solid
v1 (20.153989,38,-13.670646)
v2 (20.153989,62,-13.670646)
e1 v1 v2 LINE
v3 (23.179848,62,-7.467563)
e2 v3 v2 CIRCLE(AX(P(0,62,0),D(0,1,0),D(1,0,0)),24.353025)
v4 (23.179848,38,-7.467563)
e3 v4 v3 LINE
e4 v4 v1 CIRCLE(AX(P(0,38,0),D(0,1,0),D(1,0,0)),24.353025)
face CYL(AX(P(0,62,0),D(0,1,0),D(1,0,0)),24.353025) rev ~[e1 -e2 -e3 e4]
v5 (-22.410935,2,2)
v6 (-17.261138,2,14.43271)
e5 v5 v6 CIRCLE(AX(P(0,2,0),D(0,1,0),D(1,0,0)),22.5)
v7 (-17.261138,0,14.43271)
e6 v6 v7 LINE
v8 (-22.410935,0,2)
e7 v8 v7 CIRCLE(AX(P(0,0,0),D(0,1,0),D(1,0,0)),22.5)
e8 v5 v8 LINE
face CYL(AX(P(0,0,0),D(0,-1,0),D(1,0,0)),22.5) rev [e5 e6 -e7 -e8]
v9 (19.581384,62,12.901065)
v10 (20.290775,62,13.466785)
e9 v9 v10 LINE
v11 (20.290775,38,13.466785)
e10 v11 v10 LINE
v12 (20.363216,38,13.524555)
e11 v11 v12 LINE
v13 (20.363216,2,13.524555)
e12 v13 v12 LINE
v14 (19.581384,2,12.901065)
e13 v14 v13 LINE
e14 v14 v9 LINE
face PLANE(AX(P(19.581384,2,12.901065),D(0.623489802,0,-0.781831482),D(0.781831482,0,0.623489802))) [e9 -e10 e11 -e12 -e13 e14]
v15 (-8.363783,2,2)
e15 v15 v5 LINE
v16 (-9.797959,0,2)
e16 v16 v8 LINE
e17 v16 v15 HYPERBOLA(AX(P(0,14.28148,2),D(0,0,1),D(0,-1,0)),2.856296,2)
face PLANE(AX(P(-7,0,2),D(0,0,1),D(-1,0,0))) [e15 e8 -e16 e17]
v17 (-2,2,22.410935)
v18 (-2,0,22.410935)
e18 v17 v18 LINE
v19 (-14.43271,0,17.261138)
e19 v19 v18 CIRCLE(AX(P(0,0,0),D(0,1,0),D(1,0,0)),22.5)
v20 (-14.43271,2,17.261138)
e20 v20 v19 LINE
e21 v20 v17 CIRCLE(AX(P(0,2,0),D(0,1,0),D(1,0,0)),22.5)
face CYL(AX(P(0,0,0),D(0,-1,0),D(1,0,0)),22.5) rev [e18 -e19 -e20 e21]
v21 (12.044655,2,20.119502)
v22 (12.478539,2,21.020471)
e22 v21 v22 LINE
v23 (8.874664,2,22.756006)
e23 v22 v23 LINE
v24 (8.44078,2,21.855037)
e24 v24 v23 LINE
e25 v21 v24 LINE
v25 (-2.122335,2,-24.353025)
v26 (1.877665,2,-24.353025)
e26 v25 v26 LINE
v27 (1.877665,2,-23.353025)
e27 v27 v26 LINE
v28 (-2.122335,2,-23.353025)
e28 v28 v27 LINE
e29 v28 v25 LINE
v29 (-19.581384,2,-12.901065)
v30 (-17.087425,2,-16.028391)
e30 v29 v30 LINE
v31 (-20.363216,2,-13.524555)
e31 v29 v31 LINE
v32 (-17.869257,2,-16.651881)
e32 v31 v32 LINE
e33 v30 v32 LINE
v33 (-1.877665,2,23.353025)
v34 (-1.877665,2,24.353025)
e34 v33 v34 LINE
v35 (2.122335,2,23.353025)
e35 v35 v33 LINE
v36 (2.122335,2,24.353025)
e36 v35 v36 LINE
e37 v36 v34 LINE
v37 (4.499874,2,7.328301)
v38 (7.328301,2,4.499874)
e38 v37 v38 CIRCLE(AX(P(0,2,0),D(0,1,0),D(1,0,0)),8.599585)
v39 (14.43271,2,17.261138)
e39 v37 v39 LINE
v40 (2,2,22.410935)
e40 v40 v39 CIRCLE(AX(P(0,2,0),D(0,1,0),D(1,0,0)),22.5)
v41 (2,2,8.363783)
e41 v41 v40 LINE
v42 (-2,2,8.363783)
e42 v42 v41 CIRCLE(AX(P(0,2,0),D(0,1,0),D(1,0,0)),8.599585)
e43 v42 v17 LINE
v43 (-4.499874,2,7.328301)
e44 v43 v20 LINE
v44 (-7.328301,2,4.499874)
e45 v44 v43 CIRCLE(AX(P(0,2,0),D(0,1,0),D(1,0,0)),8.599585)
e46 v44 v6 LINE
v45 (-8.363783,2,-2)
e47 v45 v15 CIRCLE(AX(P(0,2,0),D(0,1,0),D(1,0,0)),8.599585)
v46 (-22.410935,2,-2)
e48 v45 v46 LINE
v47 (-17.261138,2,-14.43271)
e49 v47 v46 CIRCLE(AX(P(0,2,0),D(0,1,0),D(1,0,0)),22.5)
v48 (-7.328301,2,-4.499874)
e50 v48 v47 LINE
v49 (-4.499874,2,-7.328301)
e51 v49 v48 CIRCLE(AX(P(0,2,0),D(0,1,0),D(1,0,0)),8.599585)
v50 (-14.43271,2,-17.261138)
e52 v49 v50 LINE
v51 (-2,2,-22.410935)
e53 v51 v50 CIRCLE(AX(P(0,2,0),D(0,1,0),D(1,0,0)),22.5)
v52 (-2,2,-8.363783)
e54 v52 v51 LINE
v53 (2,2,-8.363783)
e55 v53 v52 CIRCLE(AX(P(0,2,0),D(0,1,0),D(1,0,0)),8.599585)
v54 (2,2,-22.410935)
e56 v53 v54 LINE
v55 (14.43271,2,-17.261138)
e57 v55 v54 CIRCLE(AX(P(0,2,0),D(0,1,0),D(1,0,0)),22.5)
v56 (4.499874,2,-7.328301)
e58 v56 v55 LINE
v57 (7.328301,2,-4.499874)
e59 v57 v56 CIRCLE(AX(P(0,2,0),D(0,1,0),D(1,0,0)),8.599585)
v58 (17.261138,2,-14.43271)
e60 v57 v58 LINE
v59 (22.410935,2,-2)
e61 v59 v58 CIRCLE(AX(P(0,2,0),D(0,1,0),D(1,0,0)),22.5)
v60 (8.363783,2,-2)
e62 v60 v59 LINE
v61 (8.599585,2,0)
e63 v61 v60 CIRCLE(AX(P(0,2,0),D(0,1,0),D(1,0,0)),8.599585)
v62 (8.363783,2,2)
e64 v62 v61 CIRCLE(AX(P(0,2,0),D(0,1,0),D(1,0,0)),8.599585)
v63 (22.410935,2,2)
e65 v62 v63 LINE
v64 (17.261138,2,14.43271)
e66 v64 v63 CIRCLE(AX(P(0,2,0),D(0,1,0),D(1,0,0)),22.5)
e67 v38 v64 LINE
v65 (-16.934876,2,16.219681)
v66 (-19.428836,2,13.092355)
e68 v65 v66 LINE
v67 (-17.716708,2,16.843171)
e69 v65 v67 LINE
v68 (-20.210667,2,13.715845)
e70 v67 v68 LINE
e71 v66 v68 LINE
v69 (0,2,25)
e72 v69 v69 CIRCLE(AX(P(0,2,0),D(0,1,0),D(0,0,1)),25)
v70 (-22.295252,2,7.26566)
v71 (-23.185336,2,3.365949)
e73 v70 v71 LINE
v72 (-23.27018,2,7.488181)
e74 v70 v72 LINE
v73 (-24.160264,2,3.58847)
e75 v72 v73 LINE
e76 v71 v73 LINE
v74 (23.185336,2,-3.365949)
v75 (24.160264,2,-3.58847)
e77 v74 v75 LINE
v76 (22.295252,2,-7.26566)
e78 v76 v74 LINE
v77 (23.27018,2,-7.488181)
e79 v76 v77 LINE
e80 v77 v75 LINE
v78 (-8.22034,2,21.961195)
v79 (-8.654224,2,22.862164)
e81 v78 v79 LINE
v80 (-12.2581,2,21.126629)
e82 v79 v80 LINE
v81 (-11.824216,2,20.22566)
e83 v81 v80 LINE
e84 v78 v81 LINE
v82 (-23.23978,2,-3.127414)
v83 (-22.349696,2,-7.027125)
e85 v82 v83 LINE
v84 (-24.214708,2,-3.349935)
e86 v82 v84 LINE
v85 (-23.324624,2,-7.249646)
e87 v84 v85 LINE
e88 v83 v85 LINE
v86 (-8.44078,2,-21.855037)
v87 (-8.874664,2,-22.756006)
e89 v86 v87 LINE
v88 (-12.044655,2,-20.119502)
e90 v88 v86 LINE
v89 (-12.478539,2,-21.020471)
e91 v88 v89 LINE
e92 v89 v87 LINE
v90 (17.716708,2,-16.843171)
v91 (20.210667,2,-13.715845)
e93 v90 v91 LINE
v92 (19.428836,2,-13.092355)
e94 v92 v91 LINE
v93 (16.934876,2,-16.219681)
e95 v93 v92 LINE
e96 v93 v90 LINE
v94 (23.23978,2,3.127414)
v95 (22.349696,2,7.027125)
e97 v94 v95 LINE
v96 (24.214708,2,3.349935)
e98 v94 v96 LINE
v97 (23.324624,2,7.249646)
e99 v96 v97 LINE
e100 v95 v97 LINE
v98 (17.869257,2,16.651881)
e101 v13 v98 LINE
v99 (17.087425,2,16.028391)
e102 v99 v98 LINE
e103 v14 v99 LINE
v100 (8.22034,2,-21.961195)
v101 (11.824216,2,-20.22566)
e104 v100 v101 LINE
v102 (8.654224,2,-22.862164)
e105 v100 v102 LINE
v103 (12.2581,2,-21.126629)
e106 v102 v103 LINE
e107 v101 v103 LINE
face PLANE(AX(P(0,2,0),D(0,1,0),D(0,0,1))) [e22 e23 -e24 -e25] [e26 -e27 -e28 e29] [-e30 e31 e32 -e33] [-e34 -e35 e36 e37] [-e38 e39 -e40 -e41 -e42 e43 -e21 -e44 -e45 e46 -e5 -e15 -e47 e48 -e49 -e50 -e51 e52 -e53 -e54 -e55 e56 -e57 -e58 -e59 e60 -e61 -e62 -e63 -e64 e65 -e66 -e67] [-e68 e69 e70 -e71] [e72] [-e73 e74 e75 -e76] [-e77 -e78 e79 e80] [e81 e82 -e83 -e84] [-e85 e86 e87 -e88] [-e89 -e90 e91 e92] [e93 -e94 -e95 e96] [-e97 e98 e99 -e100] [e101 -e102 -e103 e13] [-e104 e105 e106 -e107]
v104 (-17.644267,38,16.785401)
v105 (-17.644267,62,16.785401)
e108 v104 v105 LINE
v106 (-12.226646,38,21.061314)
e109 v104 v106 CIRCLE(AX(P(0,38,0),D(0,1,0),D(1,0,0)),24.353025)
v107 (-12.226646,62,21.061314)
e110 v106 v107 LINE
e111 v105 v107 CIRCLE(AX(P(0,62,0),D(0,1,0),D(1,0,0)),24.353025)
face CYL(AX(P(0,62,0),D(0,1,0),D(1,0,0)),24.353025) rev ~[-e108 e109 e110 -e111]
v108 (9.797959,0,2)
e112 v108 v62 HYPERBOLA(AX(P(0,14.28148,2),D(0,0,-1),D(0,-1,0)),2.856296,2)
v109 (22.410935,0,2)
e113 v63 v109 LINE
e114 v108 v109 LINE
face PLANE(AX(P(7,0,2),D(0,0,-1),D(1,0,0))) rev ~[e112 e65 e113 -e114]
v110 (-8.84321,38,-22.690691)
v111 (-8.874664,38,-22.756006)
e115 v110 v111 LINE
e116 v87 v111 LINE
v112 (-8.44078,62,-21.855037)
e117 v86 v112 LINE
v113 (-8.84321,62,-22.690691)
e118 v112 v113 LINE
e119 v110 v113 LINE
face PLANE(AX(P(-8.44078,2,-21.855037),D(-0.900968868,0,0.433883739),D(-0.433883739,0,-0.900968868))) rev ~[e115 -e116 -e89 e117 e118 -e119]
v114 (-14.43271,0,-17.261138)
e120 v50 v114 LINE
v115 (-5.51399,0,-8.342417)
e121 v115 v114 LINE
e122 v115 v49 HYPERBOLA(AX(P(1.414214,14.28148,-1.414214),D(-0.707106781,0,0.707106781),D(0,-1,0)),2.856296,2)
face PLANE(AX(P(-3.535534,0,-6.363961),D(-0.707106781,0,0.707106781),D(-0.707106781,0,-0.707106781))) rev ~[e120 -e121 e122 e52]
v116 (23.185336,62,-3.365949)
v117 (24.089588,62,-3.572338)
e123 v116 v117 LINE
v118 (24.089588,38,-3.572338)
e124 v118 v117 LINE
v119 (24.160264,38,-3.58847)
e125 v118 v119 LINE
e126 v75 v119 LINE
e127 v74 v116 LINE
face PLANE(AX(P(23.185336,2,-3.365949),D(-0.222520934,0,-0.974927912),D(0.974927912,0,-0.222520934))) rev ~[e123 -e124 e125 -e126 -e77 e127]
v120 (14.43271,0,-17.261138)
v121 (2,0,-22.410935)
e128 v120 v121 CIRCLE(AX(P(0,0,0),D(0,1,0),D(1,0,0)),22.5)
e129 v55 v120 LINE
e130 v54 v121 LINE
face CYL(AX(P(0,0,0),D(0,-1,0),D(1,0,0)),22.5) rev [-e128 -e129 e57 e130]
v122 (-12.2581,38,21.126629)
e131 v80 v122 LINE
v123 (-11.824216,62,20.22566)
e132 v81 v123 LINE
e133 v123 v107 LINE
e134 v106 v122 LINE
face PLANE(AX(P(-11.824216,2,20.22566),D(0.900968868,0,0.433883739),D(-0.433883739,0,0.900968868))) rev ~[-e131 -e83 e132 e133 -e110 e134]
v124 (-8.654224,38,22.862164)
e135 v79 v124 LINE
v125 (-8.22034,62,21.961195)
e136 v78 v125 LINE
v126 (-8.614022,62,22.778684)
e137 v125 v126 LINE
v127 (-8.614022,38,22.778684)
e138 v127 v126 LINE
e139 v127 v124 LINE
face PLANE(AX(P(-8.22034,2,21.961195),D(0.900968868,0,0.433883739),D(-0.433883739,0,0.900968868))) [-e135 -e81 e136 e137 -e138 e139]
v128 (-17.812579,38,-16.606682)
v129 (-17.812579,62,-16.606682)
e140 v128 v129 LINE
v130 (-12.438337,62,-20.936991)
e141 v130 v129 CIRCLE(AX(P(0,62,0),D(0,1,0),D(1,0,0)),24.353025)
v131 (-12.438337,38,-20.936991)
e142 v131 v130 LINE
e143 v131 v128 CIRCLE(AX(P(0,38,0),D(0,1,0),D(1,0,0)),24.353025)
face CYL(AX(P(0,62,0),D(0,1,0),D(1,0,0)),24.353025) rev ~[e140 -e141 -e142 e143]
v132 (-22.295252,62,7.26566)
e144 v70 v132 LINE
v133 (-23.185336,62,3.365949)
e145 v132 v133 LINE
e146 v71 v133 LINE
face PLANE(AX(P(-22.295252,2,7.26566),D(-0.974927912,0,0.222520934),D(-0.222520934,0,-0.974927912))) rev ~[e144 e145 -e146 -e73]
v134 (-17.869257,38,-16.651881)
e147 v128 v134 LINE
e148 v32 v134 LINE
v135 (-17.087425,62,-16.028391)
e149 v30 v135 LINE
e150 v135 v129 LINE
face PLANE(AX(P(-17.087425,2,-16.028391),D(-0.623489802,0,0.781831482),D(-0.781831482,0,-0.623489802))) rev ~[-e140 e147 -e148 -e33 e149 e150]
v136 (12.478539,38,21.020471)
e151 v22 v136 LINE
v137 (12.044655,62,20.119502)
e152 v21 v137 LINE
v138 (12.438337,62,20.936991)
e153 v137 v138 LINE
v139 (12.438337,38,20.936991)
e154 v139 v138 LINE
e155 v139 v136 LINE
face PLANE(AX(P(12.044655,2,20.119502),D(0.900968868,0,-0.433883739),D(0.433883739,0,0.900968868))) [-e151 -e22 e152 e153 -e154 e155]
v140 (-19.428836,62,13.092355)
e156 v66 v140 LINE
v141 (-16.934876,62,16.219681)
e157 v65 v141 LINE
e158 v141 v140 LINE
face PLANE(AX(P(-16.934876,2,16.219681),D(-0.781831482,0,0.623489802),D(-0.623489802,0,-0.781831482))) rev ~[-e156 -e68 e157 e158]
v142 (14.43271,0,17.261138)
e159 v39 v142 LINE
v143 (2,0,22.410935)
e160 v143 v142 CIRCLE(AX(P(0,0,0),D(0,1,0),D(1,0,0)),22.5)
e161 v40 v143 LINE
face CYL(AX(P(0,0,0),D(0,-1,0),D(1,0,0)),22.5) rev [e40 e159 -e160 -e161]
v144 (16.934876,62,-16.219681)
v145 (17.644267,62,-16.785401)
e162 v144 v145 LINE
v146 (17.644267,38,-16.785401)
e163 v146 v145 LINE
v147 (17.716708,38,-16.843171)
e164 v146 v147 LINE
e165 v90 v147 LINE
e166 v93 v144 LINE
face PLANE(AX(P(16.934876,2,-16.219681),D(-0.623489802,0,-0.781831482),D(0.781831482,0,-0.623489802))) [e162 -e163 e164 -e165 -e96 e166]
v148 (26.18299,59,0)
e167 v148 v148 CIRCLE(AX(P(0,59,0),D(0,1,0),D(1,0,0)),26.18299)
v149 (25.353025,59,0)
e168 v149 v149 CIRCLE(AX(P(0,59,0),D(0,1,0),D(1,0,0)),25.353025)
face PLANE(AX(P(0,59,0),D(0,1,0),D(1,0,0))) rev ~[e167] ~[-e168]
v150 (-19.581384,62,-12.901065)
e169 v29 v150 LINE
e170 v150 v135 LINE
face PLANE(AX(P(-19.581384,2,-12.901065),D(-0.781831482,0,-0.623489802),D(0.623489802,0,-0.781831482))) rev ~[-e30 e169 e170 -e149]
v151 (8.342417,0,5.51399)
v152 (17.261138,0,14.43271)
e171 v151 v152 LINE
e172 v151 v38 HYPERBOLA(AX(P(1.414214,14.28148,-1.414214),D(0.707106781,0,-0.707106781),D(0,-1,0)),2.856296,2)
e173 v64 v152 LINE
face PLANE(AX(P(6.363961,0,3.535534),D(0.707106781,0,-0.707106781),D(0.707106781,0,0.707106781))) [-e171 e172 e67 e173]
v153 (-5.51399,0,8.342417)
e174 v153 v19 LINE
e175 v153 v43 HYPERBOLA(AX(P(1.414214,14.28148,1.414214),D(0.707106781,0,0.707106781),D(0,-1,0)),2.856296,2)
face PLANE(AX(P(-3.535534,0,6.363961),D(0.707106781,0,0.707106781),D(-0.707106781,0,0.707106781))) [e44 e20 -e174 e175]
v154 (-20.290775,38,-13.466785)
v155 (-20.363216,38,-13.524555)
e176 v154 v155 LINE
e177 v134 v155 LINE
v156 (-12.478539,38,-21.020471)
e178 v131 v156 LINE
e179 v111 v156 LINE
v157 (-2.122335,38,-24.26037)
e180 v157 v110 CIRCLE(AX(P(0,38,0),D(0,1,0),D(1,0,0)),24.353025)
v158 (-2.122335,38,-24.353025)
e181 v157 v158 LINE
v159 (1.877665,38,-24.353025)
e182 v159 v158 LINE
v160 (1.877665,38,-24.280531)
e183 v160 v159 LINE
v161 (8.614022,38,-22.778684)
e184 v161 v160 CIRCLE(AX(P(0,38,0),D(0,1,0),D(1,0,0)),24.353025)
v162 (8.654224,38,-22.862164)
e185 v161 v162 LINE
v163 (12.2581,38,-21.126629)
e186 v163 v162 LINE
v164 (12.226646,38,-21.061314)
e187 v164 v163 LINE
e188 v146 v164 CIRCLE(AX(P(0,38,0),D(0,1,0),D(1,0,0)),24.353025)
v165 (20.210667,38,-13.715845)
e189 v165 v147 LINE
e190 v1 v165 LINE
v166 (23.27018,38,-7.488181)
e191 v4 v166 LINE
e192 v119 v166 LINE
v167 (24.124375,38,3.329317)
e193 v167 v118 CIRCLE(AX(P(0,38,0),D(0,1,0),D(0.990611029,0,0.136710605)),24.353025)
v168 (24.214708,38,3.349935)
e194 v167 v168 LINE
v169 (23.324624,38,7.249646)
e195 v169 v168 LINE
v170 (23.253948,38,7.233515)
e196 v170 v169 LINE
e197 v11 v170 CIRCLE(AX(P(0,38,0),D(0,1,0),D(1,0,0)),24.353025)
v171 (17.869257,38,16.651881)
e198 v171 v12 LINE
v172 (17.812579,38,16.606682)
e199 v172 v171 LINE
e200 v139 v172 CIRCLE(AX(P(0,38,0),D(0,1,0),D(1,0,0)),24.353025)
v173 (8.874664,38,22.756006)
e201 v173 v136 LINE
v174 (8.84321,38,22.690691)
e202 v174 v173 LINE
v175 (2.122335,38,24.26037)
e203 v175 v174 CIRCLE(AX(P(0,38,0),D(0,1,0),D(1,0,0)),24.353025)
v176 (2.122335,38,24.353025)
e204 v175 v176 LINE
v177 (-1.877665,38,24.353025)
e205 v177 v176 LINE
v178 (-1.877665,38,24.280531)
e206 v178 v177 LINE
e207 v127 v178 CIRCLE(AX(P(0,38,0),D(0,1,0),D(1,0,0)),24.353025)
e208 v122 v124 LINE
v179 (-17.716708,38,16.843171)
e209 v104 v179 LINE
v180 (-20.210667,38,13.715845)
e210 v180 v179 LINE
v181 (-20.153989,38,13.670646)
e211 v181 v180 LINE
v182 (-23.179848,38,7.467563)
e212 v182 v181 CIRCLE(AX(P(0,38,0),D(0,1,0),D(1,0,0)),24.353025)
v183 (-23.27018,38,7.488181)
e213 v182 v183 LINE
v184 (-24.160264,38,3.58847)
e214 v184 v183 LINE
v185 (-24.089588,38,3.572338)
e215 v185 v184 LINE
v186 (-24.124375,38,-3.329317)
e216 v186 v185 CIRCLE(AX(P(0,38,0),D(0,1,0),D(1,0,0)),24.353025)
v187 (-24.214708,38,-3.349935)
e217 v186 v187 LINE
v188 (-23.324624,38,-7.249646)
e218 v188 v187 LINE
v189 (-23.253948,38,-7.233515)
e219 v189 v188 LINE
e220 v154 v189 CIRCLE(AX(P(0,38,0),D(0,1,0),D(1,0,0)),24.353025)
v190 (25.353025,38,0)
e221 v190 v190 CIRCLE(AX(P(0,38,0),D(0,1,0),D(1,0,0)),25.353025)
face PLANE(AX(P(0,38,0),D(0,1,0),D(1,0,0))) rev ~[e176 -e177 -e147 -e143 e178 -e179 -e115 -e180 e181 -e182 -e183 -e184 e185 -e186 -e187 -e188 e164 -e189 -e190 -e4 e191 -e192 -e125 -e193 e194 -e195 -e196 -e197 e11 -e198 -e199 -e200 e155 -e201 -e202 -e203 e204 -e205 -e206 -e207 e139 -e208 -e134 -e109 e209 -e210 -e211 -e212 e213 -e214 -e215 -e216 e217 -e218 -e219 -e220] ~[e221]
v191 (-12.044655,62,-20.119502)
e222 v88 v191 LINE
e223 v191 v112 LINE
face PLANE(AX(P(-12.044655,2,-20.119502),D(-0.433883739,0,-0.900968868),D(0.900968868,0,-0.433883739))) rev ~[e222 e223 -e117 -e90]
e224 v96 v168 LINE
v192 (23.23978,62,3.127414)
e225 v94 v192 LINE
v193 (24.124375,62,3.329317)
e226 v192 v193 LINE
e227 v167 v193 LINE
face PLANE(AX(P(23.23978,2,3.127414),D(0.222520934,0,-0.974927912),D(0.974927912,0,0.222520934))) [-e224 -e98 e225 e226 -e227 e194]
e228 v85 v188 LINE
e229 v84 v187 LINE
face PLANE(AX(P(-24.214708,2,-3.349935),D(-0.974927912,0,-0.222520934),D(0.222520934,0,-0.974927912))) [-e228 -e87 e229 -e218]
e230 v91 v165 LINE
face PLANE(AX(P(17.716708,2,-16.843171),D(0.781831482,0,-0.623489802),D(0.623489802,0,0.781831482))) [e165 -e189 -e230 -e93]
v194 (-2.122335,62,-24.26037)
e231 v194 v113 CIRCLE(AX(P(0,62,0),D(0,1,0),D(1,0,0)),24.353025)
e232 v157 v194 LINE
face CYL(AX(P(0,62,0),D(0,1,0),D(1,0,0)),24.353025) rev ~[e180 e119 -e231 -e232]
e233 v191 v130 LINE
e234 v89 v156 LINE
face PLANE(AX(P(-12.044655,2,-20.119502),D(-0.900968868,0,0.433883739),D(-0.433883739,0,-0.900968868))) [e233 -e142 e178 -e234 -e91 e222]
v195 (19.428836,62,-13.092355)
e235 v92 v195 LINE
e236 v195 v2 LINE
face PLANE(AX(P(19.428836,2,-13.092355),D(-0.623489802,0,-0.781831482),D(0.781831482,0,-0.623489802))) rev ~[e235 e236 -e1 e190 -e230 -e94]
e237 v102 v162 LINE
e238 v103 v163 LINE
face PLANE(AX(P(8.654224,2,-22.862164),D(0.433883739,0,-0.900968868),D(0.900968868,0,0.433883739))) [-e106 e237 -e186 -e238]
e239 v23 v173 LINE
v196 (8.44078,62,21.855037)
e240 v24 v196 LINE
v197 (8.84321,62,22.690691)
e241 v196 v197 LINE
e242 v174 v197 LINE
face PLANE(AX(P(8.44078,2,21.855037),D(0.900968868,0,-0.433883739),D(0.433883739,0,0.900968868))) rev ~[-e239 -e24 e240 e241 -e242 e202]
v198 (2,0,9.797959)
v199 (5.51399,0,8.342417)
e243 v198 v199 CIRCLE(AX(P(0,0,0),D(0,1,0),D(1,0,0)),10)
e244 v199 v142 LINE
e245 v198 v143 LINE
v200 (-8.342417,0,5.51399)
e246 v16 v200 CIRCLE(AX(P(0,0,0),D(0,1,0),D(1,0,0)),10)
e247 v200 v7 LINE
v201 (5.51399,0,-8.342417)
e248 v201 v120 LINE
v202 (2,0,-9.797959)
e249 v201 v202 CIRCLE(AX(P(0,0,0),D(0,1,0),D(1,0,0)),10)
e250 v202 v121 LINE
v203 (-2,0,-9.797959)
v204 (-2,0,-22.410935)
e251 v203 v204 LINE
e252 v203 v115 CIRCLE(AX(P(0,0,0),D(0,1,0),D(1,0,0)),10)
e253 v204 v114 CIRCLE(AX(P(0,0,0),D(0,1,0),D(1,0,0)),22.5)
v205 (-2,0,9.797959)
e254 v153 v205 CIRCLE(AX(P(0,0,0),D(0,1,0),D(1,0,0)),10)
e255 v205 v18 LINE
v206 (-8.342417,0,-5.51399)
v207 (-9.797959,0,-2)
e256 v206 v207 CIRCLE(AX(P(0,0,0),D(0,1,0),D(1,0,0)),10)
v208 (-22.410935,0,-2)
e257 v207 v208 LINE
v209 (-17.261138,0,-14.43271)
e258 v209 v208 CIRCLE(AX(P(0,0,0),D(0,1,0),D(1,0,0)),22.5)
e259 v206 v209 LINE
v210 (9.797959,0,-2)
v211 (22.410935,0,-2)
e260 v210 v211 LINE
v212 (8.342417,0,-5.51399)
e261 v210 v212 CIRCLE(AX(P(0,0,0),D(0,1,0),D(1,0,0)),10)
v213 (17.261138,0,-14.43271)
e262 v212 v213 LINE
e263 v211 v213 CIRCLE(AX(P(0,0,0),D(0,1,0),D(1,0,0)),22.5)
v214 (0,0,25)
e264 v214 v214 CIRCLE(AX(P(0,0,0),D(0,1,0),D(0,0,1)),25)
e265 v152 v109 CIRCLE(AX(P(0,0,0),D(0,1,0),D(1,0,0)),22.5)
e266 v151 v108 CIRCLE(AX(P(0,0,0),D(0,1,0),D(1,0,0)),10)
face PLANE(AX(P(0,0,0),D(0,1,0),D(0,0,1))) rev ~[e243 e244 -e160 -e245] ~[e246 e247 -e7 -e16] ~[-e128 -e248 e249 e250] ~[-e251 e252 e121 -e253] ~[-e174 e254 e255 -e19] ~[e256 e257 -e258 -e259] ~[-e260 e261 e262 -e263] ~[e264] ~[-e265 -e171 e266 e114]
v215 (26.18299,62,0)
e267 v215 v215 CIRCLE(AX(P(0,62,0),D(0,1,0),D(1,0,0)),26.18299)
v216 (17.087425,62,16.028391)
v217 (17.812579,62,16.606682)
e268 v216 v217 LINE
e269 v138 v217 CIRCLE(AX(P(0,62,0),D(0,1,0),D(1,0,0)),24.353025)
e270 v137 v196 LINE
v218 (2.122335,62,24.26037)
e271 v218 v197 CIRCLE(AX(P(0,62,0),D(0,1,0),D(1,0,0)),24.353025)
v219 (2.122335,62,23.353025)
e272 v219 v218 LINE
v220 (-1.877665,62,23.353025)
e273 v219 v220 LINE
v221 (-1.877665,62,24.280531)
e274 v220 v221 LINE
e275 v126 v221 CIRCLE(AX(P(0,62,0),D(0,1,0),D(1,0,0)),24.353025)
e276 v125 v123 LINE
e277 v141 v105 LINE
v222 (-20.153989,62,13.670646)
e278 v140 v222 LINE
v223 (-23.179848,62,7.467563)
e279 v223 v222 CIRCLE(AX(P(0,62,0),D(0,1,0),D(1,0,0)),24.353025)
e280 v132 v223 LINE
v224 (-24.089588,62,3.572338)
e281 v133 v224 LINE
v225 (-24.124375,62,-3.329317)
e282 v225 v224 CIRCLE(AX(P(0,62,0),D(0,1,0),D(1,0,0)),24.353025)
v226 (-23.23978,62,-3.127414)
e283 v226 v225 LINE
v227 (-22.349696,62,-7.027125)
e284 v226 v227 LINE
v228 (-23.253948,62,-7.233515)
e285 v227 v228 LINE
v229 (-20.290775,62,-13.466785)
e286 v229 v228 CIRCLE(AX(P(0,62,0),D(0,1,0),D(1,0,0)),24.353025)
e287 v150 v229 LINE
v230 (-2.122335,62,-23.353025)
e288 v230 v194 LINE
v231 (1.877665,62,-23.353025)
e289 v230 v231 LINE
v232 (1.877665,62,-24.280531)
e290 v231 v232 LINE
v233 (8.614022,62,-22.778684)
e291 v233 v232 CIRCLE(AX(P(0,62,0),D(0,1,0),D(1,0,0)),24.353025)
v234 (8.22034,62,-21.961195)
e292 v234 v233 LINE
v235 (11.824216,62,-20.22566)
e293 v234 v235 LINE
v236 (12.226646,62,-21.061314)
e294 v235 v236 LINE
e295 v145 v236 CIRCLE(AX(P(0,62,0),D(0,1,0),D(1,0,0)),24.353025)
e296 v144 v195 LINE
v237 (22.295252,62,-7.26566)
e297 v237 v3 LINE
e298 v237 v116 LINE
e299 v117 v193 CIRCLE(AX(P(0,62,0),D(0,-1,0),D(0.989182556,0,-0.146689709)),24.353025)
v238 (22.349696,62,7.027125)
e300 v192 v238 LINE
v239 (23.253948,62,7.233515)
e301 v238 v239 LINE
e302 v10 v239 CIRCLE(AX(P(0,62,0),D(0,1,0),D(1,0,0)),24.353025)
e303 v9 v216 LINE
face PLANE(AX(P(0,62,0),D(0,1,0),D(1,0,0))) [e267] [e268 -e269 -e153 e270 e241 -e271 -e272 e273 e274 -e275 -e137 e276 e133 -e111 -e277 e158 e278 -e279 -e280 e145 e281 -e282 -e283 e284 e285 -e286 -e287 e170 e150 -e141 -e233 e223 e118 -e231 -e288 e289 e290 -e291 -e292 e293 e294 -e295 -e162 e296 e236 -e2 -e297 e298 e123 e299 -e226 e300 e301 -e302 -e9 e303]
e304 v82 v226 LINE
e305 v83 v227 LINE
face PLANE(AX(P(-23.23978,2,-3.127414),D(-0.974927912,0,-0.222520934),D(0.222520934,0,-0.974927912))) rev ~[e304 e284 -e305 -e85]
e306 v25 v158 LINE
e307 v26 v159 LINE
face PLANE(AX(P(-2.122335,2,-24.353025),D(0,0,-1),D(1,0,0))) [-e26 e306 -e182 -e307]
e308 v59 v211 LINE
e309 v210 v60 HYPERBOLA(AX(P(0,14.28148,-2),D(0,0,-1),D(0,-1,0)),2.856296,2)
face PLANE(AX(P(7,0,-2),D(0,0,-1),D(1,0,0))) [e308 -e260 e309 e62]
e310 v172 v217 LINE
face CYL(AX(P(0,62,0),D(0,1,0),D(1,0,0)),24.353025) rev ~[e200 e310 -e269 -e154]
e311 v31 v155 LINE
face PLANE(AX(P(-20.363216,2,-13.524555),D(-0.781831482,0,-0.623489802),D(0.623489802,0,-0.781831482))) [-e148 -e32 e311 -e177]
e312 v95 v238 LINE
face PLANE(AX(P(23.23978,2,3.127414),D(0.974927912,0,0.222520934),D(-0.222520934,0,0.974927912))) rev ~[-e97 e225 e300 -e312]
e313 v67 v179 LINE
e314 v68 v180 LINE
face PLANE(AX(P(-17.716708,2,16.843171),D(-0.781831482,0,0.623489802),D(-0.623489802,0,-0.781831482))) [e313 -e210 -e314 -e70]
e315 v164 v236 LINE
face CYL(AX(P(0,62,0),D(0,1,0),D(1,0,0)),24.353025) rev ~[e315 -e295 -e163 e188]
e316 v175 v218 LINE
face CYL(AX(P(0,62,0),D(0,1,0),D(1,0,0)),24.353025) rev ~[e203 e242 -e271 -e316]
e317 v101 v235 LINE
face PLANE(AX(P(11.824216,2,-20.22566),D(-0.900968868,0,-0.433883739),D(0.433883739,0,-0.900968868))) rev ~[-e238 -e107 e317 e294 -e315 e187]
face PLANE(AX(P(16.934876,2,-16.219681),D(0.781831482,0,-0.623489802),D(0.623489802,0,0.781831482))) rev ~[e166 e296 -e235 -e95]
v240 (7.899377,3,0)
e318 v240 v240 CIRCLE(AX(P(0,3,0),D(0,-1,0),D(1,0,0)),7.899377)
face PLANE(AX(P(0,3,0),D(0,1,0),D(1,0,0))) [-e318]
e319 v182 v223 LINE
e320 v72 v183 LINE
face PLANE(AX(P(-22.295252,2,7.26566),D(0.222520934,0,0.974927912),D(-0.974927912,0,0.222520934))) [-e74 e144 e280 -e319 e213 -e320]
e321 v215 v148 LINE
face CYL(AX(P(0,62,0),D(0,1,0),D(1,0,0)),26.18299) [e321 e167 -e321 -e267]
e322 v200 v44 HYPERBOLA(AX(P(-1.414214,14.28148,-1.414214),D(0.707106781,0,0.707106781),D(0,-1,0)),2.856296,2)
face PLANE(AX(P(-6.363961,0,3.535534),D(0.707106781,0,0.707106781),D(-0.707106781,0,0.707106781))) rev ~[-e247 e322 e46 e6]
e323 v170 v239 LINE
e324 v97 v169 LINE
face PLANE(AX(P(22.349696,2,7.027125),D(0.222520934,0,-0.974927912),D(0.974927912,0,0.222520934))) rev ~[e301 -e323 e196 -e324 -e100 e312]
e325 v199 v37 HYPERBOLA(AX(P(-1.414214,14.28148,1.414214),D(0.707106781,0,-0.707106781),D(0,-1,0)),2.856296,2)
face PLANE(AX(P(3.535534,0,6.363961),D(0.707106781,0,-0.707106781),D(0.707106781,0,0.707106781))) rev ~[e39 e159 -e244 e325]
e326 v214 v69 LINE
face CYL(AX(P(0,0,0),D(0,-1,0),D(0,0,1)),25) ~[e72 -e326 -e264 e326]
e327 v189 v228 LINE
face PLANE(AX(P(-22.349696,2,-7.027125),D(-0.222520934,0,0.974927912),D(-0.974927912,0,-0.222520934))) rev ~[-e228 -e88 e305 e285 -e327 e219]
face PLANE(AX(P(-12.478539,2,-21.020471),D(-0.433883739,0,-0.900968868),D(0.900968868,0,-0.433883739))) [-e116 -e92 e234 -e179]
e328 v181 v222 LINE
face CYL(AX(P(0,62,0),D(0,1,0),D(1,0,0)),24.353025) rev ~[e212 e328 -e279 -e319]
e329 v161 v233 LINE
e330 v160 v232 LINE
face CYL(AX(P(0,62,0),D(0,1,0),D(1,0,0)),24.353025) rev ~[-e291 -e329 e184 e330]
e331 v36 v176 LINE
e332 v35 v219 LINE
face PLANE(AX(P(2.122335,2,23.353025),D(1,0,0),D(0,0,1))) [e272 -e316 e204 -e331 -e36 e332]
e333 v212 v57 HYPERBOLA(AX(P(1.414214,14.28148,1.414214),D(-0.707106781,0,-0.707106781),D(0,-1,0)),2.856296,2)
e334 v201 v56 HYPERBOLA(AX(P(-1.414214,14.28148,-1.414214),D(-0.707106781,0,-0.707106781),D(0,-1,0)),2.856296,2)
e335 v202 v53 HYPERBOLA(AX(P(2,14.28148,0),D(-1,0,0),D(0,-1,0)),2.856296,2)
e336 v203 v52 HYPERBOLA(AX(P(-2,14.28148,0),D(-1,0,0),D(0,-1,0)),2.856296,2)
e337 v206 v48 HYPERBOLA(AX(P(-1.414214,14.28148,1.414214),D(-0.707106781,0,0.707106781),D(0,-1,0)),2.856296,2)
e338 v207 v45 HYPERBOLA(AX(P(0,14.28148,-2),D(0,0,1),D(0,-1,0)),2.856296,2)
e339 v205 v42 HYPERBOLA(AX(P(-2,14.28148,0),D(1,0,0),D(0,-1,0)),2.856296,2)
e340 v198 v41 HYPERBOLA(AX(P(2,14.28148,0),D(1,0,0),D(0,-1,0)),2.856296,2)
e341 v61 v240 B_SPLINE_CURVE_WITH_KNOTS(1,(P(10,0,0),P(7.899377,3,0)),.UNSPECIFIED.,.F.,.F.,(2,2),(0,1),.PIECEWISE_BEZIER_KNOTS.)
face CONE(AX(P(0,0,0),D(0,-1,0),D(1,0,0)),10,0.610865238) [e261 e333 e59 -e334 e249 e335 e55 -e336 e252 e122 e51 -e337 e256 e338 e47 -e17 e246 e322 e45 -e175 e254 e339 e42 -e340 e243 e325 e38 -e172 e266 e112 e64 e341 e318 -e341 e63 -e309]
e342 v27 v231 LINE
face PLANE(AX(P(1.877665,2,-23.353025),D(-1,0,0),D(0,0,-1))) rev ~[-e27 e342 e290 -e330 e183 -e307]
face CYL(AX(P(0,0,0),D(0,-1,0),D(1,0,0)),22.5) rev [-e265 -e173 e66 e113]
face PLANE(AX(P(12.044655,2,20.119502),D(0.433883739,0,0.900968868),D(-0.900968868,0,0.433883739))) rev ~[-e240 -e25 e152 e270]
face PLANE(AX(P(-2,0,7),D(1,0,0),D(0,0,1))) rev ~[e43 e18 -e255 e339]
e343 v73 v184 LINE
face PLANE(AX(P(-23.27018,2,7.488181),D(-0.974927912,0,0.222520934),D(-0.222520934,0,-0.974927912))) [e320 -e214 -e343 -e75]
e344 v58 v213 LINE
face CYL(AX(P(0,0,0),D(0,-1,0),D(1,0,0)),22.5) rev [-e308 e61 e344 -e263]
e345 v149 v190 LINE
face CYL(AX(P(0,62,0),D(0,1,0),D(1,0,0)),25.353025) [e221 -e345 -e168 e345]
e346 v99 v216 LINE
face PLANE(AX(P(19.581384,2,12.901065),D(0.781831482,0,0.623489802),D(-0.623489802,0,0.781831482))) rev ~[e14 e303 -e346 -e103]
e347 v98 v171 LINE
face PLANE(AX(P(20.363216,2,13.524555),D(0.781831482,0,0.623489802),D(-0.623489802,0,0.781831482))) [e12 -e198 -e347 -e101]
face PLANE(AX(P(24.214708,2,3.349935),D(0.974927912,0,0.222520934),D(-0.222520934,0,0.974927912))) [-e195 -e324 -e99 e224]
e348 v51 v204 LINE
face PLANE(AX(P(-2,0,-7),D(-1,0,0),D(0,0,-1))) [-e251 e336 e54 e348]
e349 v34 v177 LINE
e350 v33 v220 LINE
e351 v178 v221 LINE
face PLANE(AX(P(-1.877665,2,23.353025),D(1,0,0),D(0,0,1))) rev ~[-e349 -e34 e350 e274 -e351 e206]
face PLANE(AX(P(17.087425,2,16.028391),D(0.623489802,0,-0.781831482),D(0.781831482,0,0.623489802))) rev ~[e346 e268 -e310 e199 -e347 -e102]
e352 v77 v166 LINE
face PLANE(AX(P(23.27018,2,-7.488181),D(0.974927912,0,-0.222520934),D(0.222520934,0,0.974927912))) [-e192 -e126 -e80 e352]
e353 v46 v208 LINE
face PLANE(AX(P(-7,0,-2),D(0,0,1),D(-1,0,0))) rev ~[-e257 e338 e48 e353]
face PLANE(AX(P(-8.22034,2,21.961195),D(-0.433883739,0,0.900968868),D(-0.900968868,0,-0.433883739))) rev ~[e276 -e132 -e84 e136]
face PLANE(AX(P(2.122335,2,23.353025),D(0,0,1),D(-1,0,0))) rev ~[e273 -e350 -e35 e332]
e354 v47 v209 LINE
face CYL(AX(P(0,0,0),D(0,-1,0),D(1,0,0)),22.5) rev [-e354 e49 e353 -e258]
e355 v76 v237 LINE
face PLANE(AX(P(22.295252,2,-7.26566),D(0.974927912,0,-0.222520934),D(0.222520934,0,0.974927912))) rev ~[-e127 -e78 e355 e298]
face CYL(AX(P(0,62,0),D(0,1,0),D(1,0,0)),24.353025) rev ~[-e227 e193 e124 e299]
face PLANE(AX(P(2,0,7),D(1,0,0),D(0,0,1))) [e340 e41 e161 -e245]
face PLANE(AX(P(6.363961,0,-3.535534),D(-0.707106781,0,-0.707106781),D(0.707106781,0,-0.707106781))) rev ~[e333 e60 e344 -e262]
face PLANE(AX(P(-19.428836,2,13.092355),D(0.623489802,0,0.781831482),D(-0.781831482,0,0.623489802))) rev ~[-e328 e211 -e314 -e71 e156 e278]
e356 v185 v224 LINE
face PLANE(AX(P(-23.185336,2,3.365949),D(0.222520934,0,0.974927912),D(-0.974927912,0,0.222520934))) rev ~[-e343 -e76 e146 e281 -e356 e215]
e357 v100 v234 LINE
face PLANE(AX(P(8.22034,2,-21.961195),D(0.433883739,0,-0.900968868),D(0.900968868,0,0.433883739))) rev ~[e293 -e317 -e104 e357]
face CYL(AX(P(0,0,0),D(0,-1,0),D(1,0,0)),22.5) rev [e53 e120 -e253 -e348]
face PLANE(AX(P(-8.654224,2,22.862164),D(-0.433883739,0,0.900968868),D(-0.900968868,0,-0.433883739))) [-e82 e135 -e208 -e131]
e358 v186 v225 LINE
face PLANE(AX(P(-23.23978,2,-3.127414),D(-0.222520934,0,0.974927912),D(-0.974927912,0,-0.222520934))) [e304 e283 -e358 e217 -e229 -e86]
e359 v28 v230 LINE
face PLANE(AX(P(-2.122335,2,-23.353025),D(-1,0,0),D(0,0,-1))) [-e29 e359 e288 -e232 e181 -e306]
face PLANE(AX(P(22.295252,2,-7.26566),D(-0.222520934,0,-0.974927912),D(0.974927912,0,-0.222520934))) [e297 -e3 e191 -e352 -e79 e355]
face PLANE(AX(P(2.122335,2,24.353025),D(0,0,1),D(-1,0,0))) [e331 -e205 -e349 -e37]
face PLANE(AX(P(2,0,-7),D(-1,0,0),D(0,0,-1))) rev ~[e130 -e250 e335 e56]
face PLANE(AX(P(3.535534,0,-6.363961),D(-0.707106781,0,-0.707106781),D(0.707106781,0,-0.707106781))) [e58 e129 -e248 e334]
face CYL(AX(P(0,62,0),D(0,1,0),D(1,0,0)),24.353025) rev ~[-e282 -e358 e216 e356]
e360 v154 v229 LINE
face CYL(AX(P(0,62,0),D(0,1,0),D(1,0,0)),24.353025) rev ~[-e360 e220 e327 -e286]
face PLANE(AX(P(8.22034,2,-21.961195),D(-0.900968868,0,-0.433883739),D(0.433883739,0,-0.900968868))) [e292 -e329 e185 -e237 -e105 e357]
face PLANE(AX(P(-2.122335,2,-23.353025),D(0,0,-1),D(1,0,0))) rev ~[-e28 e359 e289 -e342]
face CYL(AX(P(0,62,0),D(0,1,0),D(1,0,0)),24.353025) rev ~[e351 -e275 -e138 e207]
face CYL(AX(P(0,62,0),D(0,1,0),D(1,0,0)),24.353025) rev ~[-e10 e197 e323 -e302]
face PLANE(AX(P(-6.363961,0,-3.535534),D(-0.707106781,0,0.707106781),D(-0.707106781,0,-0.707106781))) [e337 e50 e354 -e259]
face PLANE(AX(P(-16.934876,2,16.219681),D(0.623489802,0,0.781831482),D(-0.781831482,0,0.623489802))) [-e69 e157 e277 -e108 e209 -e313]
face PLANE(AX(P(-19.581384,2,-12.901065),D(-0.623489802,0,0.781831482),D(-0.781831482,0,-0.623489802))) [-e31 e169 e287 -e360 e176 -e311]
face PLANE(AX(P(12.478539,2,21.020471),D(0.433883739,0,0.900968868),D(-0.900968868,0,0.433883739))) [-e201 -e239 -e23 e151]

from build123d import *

# Parameters (mm, degrees)
SKETCH_1_R               = 10
EXTRUDE_1_DEPTH          = 3
EXTRUDE_1_TAPER          = 35
SKETCH_2_W               = 4
SKETCH_2_H               = 17
EXTRUDE_2_DEPTH          = 2
PATTERN_CIRCULAR_1_COUNT = 8
SKETCH_3_R               = 25
SKETCH_3_R_2             = 22.5
EXTRUDE_3_DEPTH          = 2
SKETCH_5_W               = 4
SKETCH_5_H               = 1
EXTRUDE_4_DEPTH          = 60
PATTERN_CIRCULAR_2_COUNT = 14
SKETCH_8_R               = 25.353025185
SKETCH_8_R_2             = 24.353025185
EXTRUDE_1_2_DEPTH        = 24
SKETCH_9_R               = 26.182989569
SKETCH_9_R_2             = 25.182989569
EXTRUDE_2_2_DEPTH        = 3


with BuildPart() as part:
    # Эскиз1 → Extrude 1 (new body)
    with BuildSketch(Plane(origin=(0, 0, 0), x_dir=(1, 0, 0), z_dir=(0, 1, 0))):
        Circle(SKETCH_1_R)
    extrude(amount=EXTRUDE_1_DEPTH, taper=EXTRUDE_1_TAPER)

    # Эскиз2 → Extrude 2 (add)
    with BuildSketch(Plane.XZ):
        with Locations((0, 15.5)):
            Rectangle(SKETCH_2_W, SKETCH_2_H)
    extrude_2 = extrude(amount=-EXTRUDE_2_DEPTH)

    # Круговой массив1: Extrude 2 ×8 about axis
    pattern_circular_1_axis = Axis((0, 0, 0), (0, 1, 0))
    for i in range(1, PATTERN_CIRCULAR_1_COUNT):
        add(extrude_2.rotate(pattern_circular_1_axis, i * 360 / PATTERN_CIRCULAR_1_COUNT))

    # Эскиз3 → Бобышка-Вытянуть3 (add)
    with BuildSketch(Plane(origin=(0, 0, 0), x_dir=(1, 0, 0), z_dir=(0, 1, 0))):
        with Locations(Location((0, 0, 0), (0, 0, 270))):
            Circle(SKETCH_3_R)
        Circle(SKETCH_3_R_2, mode=Mode.SUBTRACT)
    extrude(amount=EXTRUDE_3_DEPTH)

    # Эскиз5 → Бобышка-Вытянуть4 (add)
    with BuildSketch(Plane(origin=(0, 2, 0), x_dir=(1, 0, 0), z_dir=(0, 1, 0))):
        with Locations((-0.12233464, 23.853025185)):
            Rectangle(SKETCH_5_W, SKETCH_5_H)
    extrude_4 = extrude(amount=EXTRUDE_4_DEPTH)

    # Круговой массив2: Бобышка-Вытянуть4 ×14 about axis
    pattern_circular_2_axis = Axis((0, 0, 0), (0, 1, 0))
    for i in range(1, PATTERN_CIRCULAR_2_COUNT):
        add(extrude_4.rotate(pattern_circular_2_axis, i * 360 / PATTERN_CIRCULAR_2_COUNT))

    # Эскиз8 → Extrude 1 2 (add)
    with BuildSketch(Plane(origin=(0, 62, 0), x_dir=(1, 0, 0), z_dir=(0, 1, 0))):
        Circle(SKETCH_8_R)
        Circle(SKETCH_8_R_2, mode=Mode.SUBTRACT)
    extrude(amount=-EXTRUDE_1_2_DEPTH)

    # Эскиз9 → Extrude 2 2 (add)
    with BuildSketch(Plane(origin=(0, 62, 0), x_dir=(1, 0, 0), z_dir=(0, 1, 0))):
        Circle(SKETCH_9_R)
        Circle(SKETCH_9_R_2, mode=Mode.SUBTRACT)
    extrude(amount=-EXTRUDE_2_2_DEPTH)


solid = part.part
